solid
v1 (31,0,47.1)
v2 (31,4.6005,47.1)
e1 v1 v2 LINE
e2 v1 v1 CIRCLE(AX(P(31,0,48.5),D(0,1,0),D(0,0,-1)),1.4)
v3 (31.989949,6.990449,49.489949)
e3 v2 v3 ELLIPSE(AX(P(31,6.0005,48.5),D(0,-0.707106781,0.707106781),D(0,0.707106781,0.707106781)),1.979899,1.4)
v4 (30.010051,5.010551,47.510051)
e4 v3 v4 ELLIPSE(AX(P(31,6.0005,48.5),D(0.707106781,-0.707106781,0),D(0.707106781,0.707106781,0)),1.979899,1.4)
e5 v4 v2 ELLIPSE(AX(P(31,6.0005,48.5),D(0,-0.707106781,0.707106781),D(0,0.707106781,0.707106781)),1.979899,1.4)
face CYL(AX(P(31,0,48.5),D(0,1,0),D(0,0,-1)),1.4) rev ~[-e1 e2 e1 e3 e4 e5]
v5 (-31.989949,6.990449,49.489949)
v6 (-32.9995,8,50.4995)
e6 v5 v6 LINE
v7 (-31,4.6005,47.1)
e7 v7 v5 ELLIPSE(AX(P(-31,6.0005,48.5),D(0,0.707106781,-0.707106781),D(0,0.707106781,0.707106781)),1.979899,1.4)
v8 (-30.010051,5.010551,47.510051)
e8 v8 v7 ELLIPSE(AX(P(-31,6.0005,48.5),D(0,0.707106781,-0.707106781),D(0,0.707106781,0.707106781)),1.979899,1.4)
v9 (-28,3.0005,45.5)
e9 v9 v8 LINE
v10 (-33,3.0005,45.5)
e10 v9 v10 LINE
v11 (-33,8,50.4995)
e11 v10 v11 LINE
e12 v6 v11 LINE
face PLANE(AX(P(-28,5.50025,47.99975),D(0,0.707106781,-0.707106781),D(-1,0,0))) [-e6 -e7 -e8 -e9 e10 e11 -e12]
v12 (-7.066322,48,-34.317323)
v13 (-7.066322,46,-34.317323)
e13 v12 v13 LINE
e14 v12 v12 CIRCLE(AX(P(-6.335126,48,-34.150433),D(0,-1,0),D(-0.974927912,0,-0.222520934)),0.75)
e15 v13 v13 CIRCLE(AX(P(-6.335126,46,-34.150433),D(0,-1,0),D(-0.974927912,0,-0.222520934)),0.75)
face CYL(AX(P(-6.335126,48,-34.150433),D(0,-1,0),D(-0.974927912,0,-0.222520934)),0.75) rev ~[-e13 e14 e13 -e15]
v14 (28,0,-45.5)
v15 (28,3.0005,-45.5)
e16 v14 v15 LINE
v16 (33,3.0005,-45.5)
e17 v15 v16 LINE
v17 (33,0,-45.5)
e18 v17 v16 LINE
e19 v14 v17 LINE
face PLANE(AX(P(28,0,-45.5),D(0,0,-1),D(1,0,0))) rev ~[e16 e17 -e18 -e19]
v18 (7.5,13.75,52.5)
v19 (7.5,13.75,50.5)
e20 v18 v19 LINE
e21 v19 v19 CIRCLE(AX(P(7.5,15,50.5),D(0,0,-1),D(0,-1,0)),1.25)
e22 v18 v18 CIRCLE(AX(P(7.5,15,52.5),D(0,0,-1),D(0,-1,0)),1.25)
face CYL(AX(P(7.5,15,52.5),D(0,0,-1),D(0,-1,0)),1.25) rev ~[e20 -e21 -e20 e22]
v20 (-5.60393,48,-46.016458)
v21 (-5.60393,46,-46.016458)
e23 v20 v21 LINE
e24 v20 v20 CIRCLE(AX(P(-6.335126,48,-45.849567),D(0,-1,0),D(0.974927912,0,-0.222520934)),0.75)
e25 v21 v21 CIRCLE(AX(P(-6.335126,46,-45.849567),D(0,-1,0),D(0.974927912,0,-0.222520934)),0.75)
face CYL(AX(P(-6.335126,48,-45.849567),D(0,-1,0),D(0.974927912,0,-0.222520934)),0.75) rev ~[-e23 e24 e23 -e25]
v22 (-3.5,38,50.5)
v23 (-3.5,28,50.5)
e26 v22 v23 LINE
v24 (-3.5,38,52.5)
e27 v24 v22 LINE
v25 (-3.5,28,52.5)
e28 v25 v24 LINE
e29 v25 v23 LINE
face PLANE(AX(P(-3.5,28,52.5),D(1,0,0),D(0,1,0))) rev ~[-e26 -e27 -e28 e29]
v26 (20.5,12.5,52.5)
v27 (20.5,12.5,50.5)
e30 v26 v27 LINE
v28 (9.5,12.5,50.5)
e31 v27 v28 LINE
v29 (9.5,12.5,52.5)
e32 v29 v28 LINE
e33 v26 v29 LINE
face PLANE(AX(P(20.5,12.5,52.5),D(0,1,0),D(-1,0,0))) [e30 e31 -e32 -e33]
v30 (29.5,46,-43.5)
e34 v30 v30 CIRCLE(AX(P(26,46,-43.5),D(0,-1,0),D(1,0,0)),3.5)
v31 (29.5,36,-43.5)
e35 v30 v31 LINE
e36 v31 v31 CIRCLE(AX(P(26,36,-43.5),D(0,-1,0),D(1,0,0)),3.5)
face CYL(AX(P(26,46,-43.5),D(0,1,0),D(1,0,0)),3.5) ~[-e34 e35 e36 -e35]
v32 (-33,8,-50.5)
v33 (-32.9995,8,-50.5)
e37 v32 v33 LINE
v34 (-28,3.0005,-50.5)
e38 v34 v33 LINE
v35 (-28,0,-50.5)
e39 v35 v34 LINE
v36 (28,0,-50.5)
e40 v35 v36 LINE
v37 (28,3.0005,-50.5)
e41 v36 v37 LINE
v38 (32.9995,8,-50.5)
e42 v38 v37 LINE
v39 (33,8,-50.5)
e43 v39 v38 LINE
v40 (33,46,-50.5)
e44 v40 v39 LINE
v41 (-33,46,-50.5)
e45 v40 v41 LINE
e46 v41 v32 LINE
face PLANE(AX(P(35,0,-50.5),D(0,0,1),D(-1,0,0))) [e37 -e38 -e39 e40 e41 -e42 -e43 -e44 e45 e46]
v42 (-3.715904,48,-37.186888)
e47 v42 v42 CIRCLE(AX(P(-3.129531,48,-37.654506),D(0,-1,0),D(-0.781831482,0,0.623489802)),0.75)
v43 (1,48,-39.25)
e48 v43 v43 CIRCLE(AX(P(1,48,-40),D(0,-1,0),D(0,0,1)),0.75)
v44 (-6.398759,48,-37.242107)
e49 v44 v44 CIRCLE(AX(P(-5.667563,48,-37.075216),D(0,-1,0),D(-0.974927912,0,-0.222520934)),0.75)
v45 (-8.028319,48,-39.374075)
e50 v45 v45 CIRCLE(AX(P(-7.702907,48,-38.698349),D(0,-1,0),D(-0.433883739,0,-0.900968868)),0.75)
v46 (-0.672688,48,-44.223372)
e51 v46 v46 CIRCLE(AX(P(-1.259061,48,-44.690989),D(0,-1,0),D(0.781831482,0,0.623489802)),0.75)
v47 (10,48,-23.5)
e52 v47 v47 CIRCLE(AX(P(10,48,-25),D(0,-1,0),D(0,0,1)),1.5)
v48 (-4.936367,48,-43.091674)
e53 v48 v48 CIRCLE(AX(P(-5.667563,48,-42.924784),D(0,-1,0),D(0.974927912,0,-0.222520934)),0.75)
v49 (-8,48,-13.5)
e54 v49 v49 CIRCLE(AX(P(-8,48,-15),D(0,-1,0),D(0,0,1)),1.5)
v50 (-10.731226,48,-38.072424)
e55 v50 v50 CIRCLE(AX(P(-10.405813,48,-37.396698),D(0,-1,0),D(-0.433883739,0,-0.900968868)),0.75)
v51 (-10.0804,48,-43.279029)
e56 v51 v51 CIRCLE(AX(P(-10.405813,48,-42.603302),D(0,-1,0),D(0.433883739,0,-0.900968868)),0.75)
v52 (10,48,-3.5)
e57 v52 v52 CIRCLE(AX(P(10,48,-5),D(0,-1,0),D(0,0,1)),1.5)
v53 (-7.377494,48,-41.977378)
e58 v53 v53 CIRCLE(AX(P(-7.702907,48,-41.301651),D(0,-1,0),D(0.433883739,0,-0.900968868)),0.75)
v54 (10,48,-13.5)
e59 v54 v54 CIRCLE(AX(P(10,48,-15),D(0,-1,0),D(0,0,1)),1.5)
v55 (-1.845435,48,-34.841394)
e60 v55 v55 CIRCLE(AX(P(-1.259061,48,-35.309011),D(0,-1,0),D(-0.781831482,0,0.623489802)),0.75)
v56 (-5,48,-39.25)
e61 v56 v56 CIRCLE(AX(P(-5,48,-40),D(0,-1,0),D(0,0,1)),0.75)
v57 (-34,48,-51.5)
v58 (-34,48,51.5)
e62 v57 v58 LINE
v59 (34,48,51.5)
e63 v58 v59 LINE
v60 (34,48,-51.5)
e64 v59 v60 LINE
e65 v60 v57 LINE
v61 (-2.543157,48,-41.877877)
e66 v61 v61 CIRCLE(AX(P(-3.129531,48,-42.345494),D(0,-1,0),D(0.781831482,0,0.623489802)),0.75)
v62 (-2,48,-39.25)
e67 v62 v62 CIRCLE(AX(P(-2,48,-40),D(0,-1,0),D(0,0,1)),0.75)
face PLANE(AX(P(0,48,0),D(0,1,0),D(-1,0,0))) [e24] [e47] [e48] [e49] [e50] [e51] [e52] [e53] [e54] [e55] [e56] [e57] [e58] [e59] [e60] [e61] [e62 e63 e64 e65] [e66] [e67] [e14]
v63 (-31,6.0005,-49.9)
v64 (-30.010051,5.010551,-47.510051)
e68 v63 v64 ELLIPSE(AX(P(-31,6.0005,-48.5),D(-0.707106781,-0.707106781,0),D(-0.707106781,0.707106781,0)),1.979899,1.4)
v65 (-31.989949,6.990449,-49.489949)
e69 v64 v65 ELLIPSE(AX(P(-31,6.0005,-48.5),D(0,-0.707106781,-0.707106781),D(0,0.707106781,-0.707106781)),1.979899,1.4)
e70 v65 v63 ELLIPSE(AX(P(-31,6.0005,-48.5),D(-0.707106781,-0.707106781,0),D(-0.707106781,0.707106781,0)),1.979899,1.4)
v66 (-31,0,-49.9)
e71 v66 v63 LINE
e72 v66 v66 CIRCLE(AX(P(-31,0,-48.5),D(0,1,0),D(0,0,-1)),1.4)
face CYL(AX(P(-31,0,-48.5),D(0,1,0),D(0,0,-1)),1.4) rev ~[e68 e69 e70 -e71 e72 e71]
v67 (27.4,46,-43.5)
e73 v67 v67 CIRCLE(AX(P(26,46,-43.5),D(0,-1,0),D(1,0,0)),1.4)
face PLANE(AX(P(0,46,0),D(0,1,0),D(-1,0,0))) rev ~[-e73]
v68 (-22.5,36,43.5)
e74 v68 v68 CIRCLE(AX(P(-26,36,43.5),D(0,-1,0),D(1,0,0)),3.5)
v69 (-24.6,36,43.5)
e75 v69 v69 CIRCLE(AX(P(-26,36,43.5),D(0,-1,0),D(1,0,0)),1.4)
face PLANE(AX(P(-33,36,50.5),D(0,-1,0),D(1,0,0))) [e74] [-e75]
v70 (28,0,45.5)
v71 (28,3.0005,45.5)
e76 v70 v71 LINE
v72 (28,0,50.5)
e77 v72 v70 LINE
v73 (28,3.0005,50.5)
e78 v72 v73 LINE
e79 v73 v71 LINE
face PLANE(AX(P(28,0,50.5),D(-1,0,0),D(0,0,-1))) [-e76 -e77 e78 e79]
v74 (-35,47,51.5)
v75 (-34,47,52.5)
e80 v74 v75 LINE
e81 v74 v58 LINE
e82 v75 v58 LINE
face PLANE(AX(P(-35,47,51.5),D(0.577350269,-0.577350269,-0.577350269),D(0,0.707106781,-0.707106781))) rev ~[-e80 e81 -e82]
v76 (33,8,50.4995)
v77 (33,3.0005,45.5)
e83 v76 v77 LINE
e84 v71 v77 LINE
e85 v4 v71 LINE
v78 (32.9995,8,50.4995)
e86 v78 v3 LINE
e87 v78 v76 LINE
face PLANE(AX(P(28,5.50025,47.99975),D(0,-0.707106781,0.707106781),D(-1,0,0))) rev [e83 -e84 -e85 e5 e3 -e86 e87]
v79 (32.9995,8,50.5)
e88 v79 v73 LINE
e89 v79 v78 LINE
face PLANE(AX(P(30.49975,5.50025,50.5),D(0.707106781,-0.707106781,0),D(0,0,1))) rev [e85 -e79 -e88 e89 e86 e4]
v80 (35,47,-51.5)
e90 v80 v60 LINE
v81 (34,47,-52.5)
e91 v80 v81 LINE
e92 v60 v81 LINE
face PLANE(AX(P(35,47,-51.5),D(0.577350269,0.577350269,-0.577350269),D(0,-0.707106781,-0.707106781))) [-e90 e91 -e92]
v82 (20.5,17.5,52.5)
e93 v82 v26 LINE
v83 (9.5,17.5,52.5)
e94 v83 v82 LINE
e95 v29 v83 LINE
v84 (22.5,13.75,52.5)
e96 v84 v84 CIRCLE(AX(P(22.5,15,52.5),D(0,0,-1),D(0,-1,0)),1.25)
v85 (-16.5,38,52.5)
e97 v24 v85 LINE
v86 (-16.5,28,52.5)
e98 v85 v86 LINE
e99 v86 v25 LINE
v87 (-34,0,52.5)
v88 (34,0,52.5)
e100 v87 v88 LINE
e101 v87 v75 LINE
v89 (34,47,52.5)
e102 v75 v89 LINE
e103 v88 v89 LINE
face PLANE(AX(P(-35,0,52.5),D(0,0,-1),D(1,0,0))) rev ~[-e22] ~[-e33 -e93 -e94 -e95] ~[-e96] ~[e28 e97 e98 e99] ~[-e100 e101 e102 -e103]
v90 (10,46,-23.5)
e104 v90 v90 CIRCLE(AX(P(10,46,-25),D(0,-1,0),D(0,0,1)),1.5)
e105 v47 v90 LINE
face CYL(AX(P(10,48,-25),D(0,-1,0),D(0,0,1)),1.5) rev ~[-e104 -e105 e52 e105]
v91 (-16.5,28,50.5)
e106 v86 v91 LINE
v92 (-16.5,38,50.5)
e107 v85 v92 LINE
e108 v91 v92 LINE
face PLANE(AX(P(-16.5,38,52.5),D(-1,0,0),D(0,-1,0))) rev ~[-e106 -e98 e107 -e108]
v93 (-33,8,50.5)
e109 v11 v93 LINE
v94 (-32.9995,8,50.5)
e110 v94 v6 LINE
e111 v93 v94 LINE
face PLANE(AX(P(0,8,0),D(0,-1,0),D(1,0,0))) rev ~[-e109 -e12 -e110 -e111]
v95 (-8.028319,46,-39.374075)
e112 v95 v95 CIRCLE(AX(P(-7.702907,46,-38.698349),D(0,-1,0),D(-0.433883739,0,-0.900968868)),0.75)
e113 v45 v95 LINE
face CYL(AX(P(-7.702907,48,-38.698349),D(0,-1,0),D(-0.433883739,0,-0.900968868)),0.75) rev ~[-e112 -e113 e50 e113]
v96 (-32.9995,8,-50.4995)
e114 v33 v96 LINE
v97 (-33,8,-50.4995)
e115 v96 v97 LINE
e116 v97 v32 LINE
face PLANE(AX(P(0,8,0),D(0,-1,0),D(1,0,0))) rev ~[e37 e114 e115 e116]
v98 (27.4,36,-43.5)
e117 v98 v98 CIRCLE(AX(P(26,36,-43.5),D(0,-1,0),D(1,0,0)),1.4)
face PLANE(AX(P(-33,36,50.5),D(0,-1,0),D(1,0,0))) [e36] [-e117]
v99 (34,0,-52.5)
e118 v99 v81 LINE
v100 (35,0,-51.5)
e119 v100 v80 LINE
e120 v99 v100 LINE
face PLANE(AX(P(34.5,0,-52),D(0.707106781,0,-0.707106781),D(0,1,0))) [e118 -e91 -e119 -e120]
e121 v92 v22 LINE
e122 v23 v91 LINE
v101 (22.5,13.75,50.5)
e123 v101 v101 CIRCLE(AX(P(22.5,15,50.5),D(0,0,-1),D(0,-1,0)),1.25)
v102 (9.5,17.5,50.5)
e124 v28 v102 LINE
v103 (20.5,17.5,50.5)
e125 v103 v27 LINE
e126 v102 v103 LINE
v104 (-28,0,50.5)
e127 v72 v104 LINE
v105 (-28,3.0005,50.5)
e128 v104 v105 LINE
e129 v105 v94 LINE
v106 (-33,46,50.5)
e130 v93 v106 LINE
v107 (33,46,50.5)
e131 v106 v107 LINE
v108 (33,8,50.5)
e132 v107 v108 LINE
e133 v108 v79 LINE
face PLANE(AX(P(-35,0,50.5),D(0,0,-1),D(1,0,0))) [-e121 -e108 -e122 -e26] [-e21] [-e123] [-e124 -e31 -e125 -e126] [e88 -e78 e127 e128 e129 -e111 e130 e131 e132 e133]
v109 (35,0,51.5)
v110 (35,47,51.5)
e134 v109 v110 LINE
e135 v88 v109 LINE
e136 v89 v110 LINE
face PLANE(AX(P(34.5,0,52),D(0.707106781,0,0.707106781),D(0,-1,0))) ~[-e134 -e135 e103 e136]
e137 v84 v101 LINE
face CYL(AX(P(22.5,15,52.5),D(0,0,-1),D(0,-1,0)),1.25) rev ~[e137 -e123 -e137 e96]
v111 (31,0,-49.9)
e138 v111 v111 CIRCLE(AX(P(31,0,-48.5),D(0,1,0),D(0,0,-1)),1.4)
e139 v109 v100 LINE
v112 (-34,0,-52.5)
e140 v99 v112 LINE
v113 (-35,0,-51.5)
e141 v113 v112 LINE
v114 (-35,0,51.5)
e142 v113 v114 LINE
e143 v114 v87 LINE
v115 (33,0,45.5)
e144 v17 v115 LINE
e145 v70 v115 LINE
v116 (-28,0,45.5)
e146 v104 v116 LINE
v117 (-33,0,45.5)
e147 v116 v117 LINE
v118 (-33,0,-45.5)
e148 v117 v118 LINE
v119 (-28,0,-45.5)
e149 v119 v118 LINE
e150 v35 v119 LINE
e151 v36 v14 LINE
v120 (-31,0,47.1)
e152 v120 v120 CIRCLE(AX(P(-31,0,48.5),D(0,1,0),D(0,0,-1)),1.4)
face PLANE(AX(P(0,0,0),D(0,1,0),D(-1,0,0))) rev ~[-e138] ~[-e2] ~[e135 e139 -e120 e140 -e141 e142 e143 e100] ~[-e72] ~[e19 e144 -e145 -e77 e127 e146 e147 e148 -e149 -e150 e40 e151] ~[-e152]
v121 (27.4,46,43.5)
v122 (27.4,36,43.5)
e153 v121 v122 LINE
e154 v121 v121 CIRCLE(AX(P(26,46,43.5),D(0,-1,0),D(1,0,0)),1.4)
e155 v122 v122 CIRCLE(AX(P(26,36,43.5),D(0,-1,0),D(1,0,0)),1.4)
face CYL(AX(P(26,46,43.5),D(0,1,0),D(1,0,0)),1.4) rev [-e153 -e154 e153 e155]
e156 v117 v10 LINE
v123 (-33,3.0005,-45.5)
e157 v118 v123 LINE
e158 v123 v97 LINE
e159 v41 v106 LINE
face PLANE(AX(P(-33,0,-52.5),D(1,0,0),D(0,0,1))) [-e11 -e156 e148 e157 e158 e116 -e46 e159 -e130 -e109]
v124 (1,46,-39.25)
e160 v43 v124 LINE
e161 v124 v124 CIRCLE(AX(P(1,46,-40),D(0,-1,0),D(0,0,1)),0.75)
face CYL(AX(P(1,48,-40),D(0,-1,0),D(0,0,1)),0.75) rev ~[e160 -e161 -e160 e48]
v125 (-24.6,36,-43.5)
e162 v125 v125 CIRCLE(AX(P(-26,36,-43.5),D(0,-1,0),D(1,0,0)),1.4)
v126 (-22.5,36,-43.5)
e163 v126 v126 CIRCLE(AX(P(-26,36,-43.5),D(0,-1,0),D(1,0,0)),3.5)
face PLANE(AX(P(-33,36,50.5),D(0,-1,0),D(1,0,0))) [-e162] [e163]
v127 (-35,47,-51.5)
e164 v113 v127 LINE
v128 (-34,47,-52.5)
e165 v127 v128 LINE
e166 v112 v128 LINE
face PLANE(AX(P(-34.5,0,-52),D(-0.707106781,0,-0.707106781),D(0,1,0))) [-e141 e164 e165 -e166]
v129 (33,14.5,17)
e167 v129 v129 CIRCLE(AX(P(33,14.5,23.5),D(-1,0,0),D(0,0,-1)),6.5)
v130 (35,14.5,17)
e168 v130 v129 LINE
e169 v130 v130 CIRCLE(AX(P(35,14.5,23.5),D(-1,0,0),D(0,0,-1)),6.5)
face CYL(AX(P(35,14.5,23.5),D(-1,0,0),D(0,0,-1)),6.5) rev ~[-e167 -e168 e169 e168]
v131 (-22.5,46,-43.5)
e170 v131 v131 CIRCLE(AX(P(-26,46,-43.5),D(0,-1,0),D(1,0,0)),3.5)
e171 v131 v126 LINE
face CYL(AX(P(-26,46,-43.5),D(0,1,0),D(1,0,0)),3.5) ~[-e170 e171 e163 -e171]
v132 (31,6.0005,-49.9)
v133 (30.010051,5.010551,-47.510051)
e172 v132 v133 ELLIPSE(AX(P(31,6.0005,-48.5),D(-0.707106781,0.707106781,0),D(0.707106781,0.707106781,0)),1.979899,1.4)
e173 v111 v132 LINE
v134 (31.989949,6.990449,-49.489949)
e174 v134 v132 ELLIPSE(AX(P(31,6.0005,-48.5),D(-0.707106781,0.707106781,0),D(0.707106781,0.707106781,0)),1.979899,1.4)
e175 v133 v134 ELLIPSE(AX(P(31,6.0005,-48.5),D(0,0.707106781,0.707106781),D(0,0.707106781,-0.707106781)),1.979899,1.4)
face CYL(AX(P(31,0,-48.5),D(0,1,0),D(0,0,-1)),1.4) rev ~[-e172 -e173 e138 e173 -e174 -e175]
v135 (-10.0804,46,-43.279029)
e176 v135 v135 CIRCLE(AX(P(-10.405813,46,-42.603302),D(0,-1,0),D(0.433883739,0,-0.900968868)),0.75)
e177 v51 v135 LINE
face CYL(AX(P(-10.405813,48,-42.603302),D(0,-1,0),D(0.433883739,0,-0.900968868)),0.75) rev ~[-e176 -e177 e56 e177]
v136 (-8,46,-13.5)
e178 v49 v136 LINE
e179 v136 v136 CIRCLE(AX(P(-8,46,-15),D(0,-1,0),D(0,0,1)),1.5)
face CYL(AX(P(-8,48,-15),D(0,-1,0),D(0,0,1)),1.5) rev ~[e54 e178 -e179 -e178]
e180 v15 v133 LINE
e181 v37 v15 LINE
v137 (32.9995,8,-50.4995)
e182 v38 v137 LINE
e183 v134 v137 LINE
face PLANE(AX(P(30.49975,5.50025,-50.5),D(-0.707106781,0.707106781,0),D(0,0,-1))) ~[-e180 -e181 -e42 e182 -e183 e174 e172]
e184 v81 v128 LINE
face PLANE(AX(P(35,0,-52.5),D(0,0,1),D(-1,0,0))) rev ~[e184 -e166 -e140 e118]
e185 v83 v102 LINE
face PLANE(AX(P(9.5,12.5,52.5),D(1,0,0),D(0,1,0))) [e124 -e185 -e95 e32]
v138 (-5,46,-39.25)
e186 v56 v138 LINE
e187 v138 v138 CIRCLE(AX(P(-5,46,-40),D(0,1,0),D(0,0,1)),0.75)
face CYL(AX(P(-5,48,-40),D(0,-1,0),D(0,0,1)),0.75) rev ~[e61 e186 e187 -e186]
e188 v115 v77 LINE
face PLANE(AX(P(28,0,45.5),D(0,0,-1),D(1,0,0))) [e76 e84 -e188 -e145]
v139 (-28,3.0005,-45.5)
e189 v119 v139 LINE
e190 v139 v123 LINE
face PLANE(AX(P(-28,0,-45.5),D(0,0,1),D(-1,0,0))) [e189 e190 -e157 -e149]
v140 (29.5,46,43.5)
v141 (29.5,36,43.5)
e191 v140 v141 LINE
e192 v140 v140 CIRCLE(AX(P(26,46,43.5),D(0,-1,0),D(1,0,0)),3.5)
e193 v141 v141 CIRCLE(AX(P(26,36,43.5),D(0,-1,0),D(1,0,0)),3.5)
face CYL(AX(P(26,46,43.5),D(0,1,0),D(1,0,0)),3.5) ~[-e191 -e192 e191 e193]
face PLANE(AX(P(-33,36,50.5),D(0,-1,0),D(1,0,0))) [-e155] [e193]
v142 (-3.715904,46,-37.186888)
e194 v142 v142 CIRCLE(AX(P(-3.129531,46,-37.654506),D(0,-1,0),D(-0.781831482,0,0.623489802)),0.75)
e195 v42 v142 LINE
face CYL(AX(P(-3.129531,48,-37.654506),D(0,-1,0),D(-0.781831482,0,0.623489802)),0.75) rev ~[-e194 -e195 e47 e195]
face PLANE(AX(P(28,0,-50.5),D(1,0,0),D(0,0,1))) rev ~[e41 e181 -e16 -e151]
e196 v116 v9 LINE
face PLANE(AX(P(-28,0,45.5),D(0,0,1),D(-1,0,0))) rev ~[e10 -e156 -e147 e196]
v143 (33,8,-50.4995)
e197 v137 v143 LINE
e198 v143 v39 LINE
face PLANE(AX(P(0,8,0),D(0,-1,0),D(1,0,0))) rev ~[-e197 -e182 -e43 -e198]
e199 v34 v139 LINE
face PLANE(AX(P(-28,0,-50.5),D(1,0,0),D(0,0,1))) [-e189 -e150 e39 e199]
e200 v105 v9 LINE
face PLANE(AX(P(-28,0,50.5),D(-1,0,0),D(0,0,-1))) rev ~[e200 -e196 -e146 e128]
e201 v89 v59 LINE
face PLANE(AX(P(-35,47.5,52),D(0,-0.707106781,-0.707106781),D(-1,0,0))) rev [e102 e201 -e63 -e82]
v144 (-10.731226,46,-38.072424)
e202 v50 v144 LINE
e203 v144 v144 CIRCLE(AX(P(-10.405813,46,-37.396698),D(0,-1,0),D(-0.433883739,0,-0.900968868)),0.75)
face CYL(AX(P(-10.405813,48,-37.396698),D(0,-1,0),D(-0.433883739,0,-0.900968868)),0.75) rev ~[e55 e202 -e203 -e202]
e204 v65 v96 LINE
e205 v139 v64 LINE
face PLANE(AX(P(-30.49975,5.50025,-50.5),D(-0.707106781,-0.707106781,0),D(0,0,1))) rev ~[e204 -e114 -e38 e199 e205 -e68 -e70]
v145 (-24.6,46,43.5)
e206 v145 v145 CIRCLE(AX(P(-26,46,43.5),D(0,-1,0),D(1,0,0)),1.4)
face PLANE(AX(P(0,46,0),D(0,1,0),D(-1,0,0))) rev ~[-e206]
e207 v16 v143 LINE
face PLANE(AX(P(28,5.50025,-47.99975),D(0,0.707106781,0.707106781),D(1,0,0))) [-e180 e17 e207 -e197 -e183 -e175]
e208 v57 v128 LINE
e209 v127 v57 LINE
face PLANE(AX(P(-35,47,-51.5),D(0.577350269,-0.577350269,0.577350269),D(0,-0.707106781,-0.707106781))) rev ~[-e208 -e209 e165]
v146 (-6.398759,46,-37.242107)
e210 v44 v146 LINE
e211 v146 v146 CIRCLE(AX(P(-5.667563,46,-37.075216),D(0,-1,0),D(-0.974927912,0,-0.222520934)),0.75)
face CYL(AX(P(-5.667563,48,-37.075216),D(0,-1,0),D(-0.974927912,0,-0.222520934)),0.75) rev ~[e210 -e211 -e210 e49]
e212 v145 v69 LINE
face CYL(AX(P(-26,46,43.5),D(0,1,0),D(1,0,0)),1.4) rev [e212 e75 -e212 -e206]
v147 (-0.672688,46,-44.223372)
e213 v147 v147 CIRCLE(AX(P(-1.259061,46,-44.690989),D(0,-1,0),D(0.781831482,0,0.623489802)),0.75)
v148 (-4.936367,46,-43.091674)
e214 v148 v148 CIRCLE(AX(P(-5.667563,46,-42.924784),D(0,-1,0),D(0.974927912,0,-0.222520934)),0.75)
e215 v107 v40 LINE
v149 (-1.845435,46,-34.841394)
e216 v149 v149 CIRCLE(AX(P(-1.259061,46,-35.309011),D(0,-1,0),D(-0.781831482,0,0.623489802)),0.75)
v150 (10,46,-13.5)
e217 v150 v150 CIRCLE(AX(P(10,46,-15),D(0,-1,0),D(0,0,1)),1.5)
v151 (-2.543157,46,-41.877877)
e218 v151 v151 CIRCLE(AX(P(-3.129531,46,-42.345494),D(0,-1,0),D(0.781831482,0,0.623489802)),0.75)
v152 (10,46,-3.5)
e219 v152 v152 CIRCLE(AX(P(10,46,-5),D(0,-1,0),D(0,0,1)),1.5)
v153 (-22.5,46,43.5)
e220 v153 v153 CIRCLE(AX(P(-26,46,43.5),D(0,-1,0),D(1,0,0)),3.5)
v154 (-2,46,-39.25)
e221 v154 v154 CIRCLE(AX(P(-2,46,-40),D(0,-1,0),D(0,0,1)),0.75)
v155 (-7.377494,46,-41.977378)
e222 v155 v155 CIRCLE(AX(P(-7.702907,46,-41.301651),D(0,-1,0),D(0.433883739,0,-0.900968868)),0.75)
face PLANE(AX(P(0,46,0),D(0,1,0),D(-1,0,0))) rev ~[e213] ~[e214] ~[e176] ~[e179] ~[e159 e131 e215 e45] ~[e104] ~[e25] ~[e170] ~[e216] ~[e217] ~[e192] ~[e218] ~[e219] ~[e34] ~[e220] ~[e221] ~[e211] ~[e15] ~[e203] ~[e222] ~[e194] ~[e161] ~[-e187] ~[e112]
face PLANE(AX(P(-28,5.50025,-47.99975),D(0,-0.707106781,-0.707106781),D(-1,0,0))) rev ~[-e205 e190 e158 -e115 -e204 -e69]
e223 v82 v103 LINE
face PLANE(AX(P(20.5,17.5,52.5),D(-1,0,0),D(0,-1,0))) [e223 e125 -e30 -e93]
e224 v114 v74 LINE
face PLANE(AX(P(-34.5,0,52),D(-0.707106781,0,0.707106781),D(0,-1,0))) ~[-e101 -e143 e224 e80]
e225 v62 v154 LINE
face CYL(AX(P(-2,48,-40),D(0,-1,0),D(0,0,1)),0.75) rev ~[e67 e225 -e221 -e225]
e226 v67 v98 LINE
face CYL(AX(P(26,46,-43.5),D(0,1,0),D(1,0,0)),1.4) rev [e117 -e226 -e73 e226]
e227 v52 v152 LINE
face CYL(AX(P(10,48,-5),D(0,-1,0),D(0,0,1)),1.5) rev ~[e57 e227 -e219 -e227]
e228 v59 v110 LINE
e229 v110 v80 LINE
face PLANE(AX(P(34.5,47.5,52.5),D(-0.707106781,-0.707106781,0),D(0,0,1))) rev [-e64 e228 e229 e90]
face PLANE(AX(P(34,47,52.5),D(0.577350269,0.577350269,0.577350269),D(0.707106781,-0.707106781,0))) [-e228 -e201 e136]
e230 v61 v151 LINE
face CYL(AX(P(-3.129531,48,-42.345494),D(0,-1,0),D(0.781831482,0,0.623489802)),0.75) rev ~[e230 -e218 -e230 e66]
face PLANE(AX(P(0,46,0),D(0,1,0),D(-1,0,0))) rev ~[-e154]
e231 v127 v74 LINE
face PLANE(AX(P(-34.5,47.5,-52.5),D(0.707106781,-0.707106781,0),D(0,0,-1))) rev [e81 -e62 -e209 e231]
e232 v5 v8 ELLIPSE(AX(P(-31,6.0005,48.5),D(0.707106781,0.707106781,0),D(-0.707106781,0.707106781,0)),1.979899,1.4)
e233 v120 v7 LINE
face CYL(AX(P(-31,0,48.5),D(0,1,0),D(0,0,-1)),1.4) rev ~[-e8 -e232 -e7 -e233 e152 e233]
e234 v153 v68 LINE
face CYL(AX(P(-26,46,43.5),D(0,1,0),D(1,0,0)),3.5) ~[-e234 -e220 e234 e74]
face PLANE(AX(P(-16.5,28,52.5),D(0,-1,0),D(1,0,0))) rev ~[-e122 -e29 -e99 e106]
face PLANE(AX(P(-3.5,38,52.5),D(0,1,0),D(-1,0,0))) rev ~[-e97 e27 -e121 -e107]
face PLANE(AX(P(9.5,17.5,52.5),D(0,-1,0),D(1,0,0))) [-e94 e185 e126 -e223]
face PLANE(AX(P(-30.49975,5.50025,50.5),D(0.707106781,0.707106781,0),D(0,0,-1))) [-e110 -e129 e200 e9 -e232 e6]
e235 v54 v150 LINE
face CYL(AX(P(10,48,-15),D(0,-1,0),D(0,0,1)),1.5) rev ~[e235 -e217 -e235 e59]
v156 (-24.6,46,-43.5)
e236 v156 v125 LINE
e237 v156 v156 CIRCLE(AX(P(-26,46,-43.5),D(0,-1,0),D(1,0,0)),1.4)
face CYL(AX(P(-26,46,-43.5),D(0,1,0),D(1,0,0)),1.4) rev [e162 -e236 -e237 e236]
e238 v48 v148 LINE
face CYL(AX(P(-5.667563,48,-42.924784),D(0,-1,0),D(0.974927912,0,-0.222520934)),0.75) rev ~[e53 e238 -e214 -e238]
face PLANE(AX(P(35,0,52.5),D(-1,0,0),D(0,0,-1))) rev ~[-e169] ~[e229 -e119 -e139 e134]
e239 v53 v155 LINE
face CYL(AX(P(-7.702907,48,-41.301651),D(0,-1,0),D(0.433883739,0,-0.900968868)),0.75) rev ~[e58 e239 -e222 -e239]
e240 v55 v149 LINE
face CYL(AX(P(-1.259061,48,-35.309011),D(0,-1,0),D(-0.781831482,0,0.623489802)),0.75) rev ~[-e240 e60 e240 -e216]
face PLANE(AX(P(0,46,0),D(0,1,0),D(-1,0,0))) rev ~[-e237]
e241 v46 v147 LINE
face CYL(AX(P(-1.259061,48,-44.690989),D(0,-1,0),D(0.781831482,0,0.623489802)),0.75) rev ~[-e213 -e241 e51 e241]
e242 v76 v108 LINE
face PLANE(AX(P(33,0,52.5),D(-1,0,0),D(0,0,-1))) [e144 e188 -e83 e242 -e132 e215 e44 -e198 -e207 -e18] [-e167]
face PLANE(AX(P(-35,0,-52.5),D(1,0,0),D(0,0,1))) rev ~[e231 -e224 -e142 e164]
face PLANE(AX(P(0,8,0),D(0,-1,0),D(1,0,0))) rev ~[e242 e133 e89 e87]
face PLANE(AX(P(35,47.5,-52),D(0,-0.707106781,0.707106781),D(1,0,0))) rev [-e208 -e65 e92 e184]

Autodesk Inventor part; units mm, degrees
ref_plane "YZ Plane" through (0, 0, 0) normal (1, 0, 0) x (0, 1, 0)
ref_plane "XZ Plane" through (0, 0, 0) normal (0, 1, 0) x (-1, 0, 0)
ref_plane "XY Plane" through (0, 0, 0) normal (0, 0, 1) x (1, 0, 0)
sketch "Skizze1" plane through (0, 0, 0) normal (0, 1, 0) x (-1, 0, 0)
  line L0 (35, 52.5) -> (-35, 52.5)
  line L1 (-35, 52.5) -> (-35, -52.5)
  line L2 (-35, -52.5) -> (35, -52.5)
  line L3 (35, -52.5) -> (35, 52.5)
  point P0 (0, 0)
  point P1 (0, 52.5)
  point P2 (35, 0)
  dimension "d0" = 105
  dimension "d1" = 70
extrude "Extrusion1" add sketch "Skizze1" along normal blind 48
shell "Wandung1" thickness 2 removed faces 1 at (11.6667, 0, 17.5)
sketch "Skizze25" plane through (0, 0, 0) normal (0, -1, 0) x (1, 0, 0)
  line L0 (33, 50.5) -> (33, -50.5) construction
  line L1 (-33, 50.5) -> (33, 50.5) construction
  line L2 (-33, -50.5) -> (-33, 50.5) construction
  line L3 (33, -50.5) -> (-33, -50.5) construction
  line L4 (33, 50.5) -> (28, 50.5)
  line L5 (28, 50.5) -> (28, 45.5)
  line L6 (28, 45.5) -> (33, 45.5)
  line L7 (33, 45.5) -> (33, 50.5)
  line L8 (33, -50.5) -> (28, -50.5)
  line L9 (28, -50.5) -> (28, -45.5)
  line L10 (28, -45.5) -> (33, -45.5)
  line L11 (33, -45.5) -> (33, -50.5)
  line L12 (-33, 50.5) -> (-28, 50.5)
  line L13 (-28, 50.5) -> (-28, 45.5)
  line L14 (-28, 45.5) -> (-33, 45.5)
  line L15 (-33, 45.5) -> (-33, 50.5)
  line L16 (-33, -50.5) -> (-28, -50.5)
  line L17 (-28, -50.5) -> (-28, -45.5)
  line L18 (-28, -45.5) -> (-33, -45.5)
  line L19 (-33, -45.5) -> (-33, -50.5)
  point P0 (0, 0)
  dimension "d208" = 5
  dimension "d209" = 5
extrude "Extrusion12" add sketch "Skizze25" against normal blind 8
chamfer "Fase2" distance 5 angle 45 2 edges at (30.5, 8, 45.5) (28, 8, 48)
chamfer "Fase3" distance 5 angle 45 2 edges at (30.5, 8, -45.5) (28, 8, -48)
chamfer "Fase4" distance 5 angle 45 2 edges at (-28, 8, 48) (-30.5, 8, 45.5)
chamfer "Fase5" distance 5 angle 45 2 edges at (-28, 8, -48) (-30.5, 8, -45.5)
sketch "Skizze26" plane through (0, 0, 0) normal (0, -1, 0) x (1, 0, 0)
  line L0 (-31, 48.5) -> (31, 48.5) construction
  line L1 (31, 48.5) -> (31, -48.5) construction
  line L2 (31, -48.5) -> (-31, -48.5) construction
  line L3 (-31, -48.5) -> (-31, 48.5) construction
  point P0 (0, 0)
  point P1 (-31, 0)
  point P2 (0, 48.5)
  dimension "d224" = 97
  dimension "d225" = 62
hole "Bohrung14" at (-31, 0, 48.5) at (31, 0, 48.5) at (31, 0, -48.5) at (-31, 0, -48.5) direction (0, 1, 0) diameter 2.8 depth 8
chamfer "Fase6" distance 1 angle 45 8 edges at (0, 48, -52.5) (35, 48, 0) (35, 24, -52.5) (0, 48, 52.5) (35, 24, 52.5) (-35, 24, 52.5) (-35, 48, 0) (-35, 24, -52.5)
sketch "Skizze11" plane through (35, 45, -52.5) normal (1, 0, 0) x (0, 0, 1)
  circle A0 centre (37.5, 33) radius 9 construction
  line L0 (104, 45) -> (1, 45) construction
  point P0 (52.5, 45)
  point P1 (52.5, 45)
  point P2 (52.5, 45)
  dimension "d238" = 18
  dimension "d285" = 15
  dimension "d286" = 12
hole "Button" [suppressed]
sketch "Skizze12" plane through (0, 48, 0) normal (0, 1, 0) x (1, 0, 0)
  point P0 (0, 0)
  point P1 (10, 25)
  point P2 (10, 15)
  point P3 (10, 5)
  dimension "d239" = 5
  dimension "d240" = 10
  dimension "d241" = 10
  dimension "d258" = 10
hole "LEDS" at (10, 48, -25) at (10, 48, -15) at (10, 48, -5) direction (0, -1, 0) diameter 3 end through all
sketch "Skizze14" plane through (29, 0, -52.5) normal (0, 0, -1) x (-1, 0, 0)
  line L0 (-5, 0) -> (63, 0) construction
  point P0 (9, 10)
  point P1 (29, 0)
  point P2 (29, 0)
  point P3 (29, 0)
  point P4 (29, 0)
  dimension "d268" = 10
  dimension "d287" = 20
hole "Sensor" [suppressed]
sketch "Skizze20" plane through (-29, 0, 52.5) normal (0, 0, 1) x (1, 0, 0)
  line L0 (38.5, 17.5) -> (49.5, 17.5)
  line L1 (49.5, 17.5) -> (49.5, 12.5)
  line L2 (49.5, 12.5) -> (38.5, 12.5)
  line L3 (38.5, 12.5) -> (38.5, 17.5)
  line L4 (38.5, 15) -> (49.5, 15) construction
  line L5 (44, 17.5) -> (44, 12.5) construction
  line L6 (-5, 0) -> (63, 0) construction
  point P0 (51.5, 15)
  point P1 (36.5, 15)
  point P2 (44, 15)
  point P3 (29, 0)
  point P4 (29, 0)
  point P5 (29, 0)
  point P6 (44, 15)
  point P7 (29, 0)
  dimension "d149" = 11
  dimension "d150" = 5
  dimension "d153" = 15
  dimension "d249" = 15
  dimension "d259" = 15
extrude "Extrusion9" cut sketch "Skizze20" against normal up to surface (2 mm away)
hole "Switch" at (7.5, 15, 52.5) at (22.5, 15, 52.5) direction (0, 0, -1) diameter 2.5 depth 2
sketch "Skizze22" plane through (35, 0, 52.5) normal (-1, 0, 0) x (0, 0, 1)
  line L0 (-104, 0) -> (-1, 0) construction
  point P0 (-29, 14.5)
  point P1 (-52.5, 0)
  point P2 (-52.5, 0)
  point P3 (-52.5, 0)
  point P4 (0, 0)
  dimension "d250" = 23.5
  dimension "d251" = 14.5
  dimension "d260" = 29
hole "nRF-Antenna" at (35, 14.5, 23.5) direction (-1, 0, 0) diameter 13 depth 8 tip angle 118
sketch "Skizze27" plane through (-33, 46, 50.5) normal (0, -1, 0) x (1, 0, 0)
  line L0 (59, -94) -> (7, -94) construction
  line L1 (7, -94) -> (7, -7) construction
  line L2 (7, -7) -> (59, -7) construction
  line L3 (59, -7) -> (59, -94) construction
  circle A0 centre (59, -94) radius 3.5
  circle A1 centre (7, -94) radius 3.5
  circle A2 centre (7, -7) radius 3.5
  circle A3 centre (59, -7) radius 3.5
  circle A4 centre (59, -94) radius 1.4
  circle A5 centre (7, -94) radius 1.4
  circle A6 centre (59, -7) radius 1.4
  circle A7 centre (7, -7) radius 1.4
  point P0 (33, -50.5)
  point P1 (59, -50.5)
  point P2 (33, -94)
  dimension "d252" = 7
  dimension "d253" = 87
  dimension "d254" = 52
  dimension "d255" = 2.8
extrude "PCB-holder" add sketch "Skizze27" along normal blind 10
sketch "Skizze29" plane through (0, 48, 0) normal (0, 1, 0) x (1, 0, 0)
  point P0 (0, 0)
  point P1 (-8, 15)
  dimension "d269" = 8
  dimension "d278" = 15
hole "LED Green" at (-8, 48, -15) direction (0, -1, 0) diameter 3 depth 8 tip angle 118
sketch "Skizze30" plane through (34, 0, -52.5) normal (0, 0, -1) x (-1, 0, 0)
  line L0 (16.5, 17) -> (31.5, 17)
  line L1 (31.5, 17) -> (31.5, 28)
  line L2 (31.5, 28) -> (16.5, 28)
  line L3 (16.5, 28) -> (16.5, 17)
  line L4 (24, 17) -> (24, 28) construction
  line L5 (16.5, 22.5) -> (31.5, 22.5) construction
  line L6 (0, 0) -> (68, 0) construction
  line L7 (22.5, 48) -> (25.5, 48) construction
  line L8 (22.5, 48) -> (25.5, 48) construction
  line L9 (22.5, 48) -> (25.5, 48) construction
  line L10 (0, 48) -> (68, 48) construction
  line L11 (68, 48) -> (0, 48) construction
  point P0 (34, 0)
  point P1 (34, 0)
  point P2 (24, 22.5)
  point P3 (34, 0)
  point P4 (40.5, 48)
  point P5 (43.5, 48)
  dimension "d279" = 15
  dimension "d280" = 11
  dimension "d282" = 10
  dimension "d288" = 20
extrude "Arduino Programming" [suppressed]
sketch "Skizze31" plane through (-34, 0, 52.5) normal (0, 0, 1) x (1, 0, 0)
  line L0 (17.5, 28) -> (30.5, 28)
  line L1 (30.5, 28) -> (30.5, 38)
  line L2 (30.5, 38) -> (17.5, 38)
  line L3 (17.5, 38) -> (17.5, 28)
  line L4 (24, 28) -> (24, 38) construction
  line L5 (17.5, 33) -> (30.5, 33) construction
  line L6 (0, 0) -> (68, 0) construction
  point P0 (34, 0)
  point P1 (34, 0)
  point P2 (24, 33)
  dimension "d289" = 10
  dimension "d290" = 33
  dimension "d291" = 13
  dimension "d292" = 10
extrude "USB-C" cut sketch "Skizze31" against normal blind 10
sketch "Skizze32" plane through (0, 48, 0) normal (0, 1, 0) x (1, 0, 0)
  line L0 (34, 52.5) -> (-34, 52.5) construction
  point P0 (0, 0)
  point P1 (-5, 40)
  point P2 (-2, 40)
  point P3 (1, 40)
  dimension "d295" = 3
  dimension "d296" = 3
  dimension "d297" = 40
  dimension "d298" = 5
  dimension "d309" = 12.5
hole "Bohrung16" at (-5, 48, -40) at (-2, 48, -40) at (1, 48, -40) direction (0, -1, 0) diameter 1.5 depth 8 tip angle 118
pattern_circular "Runde Anordnung3" count 7 over 360 about axis through (-5, 44, -40) along (0, 1, 0) of "Bohrung16"
equation "\"d209\" = d208"
properties part number "Top_handheld" material "PC/ABS-Kunststoff"
